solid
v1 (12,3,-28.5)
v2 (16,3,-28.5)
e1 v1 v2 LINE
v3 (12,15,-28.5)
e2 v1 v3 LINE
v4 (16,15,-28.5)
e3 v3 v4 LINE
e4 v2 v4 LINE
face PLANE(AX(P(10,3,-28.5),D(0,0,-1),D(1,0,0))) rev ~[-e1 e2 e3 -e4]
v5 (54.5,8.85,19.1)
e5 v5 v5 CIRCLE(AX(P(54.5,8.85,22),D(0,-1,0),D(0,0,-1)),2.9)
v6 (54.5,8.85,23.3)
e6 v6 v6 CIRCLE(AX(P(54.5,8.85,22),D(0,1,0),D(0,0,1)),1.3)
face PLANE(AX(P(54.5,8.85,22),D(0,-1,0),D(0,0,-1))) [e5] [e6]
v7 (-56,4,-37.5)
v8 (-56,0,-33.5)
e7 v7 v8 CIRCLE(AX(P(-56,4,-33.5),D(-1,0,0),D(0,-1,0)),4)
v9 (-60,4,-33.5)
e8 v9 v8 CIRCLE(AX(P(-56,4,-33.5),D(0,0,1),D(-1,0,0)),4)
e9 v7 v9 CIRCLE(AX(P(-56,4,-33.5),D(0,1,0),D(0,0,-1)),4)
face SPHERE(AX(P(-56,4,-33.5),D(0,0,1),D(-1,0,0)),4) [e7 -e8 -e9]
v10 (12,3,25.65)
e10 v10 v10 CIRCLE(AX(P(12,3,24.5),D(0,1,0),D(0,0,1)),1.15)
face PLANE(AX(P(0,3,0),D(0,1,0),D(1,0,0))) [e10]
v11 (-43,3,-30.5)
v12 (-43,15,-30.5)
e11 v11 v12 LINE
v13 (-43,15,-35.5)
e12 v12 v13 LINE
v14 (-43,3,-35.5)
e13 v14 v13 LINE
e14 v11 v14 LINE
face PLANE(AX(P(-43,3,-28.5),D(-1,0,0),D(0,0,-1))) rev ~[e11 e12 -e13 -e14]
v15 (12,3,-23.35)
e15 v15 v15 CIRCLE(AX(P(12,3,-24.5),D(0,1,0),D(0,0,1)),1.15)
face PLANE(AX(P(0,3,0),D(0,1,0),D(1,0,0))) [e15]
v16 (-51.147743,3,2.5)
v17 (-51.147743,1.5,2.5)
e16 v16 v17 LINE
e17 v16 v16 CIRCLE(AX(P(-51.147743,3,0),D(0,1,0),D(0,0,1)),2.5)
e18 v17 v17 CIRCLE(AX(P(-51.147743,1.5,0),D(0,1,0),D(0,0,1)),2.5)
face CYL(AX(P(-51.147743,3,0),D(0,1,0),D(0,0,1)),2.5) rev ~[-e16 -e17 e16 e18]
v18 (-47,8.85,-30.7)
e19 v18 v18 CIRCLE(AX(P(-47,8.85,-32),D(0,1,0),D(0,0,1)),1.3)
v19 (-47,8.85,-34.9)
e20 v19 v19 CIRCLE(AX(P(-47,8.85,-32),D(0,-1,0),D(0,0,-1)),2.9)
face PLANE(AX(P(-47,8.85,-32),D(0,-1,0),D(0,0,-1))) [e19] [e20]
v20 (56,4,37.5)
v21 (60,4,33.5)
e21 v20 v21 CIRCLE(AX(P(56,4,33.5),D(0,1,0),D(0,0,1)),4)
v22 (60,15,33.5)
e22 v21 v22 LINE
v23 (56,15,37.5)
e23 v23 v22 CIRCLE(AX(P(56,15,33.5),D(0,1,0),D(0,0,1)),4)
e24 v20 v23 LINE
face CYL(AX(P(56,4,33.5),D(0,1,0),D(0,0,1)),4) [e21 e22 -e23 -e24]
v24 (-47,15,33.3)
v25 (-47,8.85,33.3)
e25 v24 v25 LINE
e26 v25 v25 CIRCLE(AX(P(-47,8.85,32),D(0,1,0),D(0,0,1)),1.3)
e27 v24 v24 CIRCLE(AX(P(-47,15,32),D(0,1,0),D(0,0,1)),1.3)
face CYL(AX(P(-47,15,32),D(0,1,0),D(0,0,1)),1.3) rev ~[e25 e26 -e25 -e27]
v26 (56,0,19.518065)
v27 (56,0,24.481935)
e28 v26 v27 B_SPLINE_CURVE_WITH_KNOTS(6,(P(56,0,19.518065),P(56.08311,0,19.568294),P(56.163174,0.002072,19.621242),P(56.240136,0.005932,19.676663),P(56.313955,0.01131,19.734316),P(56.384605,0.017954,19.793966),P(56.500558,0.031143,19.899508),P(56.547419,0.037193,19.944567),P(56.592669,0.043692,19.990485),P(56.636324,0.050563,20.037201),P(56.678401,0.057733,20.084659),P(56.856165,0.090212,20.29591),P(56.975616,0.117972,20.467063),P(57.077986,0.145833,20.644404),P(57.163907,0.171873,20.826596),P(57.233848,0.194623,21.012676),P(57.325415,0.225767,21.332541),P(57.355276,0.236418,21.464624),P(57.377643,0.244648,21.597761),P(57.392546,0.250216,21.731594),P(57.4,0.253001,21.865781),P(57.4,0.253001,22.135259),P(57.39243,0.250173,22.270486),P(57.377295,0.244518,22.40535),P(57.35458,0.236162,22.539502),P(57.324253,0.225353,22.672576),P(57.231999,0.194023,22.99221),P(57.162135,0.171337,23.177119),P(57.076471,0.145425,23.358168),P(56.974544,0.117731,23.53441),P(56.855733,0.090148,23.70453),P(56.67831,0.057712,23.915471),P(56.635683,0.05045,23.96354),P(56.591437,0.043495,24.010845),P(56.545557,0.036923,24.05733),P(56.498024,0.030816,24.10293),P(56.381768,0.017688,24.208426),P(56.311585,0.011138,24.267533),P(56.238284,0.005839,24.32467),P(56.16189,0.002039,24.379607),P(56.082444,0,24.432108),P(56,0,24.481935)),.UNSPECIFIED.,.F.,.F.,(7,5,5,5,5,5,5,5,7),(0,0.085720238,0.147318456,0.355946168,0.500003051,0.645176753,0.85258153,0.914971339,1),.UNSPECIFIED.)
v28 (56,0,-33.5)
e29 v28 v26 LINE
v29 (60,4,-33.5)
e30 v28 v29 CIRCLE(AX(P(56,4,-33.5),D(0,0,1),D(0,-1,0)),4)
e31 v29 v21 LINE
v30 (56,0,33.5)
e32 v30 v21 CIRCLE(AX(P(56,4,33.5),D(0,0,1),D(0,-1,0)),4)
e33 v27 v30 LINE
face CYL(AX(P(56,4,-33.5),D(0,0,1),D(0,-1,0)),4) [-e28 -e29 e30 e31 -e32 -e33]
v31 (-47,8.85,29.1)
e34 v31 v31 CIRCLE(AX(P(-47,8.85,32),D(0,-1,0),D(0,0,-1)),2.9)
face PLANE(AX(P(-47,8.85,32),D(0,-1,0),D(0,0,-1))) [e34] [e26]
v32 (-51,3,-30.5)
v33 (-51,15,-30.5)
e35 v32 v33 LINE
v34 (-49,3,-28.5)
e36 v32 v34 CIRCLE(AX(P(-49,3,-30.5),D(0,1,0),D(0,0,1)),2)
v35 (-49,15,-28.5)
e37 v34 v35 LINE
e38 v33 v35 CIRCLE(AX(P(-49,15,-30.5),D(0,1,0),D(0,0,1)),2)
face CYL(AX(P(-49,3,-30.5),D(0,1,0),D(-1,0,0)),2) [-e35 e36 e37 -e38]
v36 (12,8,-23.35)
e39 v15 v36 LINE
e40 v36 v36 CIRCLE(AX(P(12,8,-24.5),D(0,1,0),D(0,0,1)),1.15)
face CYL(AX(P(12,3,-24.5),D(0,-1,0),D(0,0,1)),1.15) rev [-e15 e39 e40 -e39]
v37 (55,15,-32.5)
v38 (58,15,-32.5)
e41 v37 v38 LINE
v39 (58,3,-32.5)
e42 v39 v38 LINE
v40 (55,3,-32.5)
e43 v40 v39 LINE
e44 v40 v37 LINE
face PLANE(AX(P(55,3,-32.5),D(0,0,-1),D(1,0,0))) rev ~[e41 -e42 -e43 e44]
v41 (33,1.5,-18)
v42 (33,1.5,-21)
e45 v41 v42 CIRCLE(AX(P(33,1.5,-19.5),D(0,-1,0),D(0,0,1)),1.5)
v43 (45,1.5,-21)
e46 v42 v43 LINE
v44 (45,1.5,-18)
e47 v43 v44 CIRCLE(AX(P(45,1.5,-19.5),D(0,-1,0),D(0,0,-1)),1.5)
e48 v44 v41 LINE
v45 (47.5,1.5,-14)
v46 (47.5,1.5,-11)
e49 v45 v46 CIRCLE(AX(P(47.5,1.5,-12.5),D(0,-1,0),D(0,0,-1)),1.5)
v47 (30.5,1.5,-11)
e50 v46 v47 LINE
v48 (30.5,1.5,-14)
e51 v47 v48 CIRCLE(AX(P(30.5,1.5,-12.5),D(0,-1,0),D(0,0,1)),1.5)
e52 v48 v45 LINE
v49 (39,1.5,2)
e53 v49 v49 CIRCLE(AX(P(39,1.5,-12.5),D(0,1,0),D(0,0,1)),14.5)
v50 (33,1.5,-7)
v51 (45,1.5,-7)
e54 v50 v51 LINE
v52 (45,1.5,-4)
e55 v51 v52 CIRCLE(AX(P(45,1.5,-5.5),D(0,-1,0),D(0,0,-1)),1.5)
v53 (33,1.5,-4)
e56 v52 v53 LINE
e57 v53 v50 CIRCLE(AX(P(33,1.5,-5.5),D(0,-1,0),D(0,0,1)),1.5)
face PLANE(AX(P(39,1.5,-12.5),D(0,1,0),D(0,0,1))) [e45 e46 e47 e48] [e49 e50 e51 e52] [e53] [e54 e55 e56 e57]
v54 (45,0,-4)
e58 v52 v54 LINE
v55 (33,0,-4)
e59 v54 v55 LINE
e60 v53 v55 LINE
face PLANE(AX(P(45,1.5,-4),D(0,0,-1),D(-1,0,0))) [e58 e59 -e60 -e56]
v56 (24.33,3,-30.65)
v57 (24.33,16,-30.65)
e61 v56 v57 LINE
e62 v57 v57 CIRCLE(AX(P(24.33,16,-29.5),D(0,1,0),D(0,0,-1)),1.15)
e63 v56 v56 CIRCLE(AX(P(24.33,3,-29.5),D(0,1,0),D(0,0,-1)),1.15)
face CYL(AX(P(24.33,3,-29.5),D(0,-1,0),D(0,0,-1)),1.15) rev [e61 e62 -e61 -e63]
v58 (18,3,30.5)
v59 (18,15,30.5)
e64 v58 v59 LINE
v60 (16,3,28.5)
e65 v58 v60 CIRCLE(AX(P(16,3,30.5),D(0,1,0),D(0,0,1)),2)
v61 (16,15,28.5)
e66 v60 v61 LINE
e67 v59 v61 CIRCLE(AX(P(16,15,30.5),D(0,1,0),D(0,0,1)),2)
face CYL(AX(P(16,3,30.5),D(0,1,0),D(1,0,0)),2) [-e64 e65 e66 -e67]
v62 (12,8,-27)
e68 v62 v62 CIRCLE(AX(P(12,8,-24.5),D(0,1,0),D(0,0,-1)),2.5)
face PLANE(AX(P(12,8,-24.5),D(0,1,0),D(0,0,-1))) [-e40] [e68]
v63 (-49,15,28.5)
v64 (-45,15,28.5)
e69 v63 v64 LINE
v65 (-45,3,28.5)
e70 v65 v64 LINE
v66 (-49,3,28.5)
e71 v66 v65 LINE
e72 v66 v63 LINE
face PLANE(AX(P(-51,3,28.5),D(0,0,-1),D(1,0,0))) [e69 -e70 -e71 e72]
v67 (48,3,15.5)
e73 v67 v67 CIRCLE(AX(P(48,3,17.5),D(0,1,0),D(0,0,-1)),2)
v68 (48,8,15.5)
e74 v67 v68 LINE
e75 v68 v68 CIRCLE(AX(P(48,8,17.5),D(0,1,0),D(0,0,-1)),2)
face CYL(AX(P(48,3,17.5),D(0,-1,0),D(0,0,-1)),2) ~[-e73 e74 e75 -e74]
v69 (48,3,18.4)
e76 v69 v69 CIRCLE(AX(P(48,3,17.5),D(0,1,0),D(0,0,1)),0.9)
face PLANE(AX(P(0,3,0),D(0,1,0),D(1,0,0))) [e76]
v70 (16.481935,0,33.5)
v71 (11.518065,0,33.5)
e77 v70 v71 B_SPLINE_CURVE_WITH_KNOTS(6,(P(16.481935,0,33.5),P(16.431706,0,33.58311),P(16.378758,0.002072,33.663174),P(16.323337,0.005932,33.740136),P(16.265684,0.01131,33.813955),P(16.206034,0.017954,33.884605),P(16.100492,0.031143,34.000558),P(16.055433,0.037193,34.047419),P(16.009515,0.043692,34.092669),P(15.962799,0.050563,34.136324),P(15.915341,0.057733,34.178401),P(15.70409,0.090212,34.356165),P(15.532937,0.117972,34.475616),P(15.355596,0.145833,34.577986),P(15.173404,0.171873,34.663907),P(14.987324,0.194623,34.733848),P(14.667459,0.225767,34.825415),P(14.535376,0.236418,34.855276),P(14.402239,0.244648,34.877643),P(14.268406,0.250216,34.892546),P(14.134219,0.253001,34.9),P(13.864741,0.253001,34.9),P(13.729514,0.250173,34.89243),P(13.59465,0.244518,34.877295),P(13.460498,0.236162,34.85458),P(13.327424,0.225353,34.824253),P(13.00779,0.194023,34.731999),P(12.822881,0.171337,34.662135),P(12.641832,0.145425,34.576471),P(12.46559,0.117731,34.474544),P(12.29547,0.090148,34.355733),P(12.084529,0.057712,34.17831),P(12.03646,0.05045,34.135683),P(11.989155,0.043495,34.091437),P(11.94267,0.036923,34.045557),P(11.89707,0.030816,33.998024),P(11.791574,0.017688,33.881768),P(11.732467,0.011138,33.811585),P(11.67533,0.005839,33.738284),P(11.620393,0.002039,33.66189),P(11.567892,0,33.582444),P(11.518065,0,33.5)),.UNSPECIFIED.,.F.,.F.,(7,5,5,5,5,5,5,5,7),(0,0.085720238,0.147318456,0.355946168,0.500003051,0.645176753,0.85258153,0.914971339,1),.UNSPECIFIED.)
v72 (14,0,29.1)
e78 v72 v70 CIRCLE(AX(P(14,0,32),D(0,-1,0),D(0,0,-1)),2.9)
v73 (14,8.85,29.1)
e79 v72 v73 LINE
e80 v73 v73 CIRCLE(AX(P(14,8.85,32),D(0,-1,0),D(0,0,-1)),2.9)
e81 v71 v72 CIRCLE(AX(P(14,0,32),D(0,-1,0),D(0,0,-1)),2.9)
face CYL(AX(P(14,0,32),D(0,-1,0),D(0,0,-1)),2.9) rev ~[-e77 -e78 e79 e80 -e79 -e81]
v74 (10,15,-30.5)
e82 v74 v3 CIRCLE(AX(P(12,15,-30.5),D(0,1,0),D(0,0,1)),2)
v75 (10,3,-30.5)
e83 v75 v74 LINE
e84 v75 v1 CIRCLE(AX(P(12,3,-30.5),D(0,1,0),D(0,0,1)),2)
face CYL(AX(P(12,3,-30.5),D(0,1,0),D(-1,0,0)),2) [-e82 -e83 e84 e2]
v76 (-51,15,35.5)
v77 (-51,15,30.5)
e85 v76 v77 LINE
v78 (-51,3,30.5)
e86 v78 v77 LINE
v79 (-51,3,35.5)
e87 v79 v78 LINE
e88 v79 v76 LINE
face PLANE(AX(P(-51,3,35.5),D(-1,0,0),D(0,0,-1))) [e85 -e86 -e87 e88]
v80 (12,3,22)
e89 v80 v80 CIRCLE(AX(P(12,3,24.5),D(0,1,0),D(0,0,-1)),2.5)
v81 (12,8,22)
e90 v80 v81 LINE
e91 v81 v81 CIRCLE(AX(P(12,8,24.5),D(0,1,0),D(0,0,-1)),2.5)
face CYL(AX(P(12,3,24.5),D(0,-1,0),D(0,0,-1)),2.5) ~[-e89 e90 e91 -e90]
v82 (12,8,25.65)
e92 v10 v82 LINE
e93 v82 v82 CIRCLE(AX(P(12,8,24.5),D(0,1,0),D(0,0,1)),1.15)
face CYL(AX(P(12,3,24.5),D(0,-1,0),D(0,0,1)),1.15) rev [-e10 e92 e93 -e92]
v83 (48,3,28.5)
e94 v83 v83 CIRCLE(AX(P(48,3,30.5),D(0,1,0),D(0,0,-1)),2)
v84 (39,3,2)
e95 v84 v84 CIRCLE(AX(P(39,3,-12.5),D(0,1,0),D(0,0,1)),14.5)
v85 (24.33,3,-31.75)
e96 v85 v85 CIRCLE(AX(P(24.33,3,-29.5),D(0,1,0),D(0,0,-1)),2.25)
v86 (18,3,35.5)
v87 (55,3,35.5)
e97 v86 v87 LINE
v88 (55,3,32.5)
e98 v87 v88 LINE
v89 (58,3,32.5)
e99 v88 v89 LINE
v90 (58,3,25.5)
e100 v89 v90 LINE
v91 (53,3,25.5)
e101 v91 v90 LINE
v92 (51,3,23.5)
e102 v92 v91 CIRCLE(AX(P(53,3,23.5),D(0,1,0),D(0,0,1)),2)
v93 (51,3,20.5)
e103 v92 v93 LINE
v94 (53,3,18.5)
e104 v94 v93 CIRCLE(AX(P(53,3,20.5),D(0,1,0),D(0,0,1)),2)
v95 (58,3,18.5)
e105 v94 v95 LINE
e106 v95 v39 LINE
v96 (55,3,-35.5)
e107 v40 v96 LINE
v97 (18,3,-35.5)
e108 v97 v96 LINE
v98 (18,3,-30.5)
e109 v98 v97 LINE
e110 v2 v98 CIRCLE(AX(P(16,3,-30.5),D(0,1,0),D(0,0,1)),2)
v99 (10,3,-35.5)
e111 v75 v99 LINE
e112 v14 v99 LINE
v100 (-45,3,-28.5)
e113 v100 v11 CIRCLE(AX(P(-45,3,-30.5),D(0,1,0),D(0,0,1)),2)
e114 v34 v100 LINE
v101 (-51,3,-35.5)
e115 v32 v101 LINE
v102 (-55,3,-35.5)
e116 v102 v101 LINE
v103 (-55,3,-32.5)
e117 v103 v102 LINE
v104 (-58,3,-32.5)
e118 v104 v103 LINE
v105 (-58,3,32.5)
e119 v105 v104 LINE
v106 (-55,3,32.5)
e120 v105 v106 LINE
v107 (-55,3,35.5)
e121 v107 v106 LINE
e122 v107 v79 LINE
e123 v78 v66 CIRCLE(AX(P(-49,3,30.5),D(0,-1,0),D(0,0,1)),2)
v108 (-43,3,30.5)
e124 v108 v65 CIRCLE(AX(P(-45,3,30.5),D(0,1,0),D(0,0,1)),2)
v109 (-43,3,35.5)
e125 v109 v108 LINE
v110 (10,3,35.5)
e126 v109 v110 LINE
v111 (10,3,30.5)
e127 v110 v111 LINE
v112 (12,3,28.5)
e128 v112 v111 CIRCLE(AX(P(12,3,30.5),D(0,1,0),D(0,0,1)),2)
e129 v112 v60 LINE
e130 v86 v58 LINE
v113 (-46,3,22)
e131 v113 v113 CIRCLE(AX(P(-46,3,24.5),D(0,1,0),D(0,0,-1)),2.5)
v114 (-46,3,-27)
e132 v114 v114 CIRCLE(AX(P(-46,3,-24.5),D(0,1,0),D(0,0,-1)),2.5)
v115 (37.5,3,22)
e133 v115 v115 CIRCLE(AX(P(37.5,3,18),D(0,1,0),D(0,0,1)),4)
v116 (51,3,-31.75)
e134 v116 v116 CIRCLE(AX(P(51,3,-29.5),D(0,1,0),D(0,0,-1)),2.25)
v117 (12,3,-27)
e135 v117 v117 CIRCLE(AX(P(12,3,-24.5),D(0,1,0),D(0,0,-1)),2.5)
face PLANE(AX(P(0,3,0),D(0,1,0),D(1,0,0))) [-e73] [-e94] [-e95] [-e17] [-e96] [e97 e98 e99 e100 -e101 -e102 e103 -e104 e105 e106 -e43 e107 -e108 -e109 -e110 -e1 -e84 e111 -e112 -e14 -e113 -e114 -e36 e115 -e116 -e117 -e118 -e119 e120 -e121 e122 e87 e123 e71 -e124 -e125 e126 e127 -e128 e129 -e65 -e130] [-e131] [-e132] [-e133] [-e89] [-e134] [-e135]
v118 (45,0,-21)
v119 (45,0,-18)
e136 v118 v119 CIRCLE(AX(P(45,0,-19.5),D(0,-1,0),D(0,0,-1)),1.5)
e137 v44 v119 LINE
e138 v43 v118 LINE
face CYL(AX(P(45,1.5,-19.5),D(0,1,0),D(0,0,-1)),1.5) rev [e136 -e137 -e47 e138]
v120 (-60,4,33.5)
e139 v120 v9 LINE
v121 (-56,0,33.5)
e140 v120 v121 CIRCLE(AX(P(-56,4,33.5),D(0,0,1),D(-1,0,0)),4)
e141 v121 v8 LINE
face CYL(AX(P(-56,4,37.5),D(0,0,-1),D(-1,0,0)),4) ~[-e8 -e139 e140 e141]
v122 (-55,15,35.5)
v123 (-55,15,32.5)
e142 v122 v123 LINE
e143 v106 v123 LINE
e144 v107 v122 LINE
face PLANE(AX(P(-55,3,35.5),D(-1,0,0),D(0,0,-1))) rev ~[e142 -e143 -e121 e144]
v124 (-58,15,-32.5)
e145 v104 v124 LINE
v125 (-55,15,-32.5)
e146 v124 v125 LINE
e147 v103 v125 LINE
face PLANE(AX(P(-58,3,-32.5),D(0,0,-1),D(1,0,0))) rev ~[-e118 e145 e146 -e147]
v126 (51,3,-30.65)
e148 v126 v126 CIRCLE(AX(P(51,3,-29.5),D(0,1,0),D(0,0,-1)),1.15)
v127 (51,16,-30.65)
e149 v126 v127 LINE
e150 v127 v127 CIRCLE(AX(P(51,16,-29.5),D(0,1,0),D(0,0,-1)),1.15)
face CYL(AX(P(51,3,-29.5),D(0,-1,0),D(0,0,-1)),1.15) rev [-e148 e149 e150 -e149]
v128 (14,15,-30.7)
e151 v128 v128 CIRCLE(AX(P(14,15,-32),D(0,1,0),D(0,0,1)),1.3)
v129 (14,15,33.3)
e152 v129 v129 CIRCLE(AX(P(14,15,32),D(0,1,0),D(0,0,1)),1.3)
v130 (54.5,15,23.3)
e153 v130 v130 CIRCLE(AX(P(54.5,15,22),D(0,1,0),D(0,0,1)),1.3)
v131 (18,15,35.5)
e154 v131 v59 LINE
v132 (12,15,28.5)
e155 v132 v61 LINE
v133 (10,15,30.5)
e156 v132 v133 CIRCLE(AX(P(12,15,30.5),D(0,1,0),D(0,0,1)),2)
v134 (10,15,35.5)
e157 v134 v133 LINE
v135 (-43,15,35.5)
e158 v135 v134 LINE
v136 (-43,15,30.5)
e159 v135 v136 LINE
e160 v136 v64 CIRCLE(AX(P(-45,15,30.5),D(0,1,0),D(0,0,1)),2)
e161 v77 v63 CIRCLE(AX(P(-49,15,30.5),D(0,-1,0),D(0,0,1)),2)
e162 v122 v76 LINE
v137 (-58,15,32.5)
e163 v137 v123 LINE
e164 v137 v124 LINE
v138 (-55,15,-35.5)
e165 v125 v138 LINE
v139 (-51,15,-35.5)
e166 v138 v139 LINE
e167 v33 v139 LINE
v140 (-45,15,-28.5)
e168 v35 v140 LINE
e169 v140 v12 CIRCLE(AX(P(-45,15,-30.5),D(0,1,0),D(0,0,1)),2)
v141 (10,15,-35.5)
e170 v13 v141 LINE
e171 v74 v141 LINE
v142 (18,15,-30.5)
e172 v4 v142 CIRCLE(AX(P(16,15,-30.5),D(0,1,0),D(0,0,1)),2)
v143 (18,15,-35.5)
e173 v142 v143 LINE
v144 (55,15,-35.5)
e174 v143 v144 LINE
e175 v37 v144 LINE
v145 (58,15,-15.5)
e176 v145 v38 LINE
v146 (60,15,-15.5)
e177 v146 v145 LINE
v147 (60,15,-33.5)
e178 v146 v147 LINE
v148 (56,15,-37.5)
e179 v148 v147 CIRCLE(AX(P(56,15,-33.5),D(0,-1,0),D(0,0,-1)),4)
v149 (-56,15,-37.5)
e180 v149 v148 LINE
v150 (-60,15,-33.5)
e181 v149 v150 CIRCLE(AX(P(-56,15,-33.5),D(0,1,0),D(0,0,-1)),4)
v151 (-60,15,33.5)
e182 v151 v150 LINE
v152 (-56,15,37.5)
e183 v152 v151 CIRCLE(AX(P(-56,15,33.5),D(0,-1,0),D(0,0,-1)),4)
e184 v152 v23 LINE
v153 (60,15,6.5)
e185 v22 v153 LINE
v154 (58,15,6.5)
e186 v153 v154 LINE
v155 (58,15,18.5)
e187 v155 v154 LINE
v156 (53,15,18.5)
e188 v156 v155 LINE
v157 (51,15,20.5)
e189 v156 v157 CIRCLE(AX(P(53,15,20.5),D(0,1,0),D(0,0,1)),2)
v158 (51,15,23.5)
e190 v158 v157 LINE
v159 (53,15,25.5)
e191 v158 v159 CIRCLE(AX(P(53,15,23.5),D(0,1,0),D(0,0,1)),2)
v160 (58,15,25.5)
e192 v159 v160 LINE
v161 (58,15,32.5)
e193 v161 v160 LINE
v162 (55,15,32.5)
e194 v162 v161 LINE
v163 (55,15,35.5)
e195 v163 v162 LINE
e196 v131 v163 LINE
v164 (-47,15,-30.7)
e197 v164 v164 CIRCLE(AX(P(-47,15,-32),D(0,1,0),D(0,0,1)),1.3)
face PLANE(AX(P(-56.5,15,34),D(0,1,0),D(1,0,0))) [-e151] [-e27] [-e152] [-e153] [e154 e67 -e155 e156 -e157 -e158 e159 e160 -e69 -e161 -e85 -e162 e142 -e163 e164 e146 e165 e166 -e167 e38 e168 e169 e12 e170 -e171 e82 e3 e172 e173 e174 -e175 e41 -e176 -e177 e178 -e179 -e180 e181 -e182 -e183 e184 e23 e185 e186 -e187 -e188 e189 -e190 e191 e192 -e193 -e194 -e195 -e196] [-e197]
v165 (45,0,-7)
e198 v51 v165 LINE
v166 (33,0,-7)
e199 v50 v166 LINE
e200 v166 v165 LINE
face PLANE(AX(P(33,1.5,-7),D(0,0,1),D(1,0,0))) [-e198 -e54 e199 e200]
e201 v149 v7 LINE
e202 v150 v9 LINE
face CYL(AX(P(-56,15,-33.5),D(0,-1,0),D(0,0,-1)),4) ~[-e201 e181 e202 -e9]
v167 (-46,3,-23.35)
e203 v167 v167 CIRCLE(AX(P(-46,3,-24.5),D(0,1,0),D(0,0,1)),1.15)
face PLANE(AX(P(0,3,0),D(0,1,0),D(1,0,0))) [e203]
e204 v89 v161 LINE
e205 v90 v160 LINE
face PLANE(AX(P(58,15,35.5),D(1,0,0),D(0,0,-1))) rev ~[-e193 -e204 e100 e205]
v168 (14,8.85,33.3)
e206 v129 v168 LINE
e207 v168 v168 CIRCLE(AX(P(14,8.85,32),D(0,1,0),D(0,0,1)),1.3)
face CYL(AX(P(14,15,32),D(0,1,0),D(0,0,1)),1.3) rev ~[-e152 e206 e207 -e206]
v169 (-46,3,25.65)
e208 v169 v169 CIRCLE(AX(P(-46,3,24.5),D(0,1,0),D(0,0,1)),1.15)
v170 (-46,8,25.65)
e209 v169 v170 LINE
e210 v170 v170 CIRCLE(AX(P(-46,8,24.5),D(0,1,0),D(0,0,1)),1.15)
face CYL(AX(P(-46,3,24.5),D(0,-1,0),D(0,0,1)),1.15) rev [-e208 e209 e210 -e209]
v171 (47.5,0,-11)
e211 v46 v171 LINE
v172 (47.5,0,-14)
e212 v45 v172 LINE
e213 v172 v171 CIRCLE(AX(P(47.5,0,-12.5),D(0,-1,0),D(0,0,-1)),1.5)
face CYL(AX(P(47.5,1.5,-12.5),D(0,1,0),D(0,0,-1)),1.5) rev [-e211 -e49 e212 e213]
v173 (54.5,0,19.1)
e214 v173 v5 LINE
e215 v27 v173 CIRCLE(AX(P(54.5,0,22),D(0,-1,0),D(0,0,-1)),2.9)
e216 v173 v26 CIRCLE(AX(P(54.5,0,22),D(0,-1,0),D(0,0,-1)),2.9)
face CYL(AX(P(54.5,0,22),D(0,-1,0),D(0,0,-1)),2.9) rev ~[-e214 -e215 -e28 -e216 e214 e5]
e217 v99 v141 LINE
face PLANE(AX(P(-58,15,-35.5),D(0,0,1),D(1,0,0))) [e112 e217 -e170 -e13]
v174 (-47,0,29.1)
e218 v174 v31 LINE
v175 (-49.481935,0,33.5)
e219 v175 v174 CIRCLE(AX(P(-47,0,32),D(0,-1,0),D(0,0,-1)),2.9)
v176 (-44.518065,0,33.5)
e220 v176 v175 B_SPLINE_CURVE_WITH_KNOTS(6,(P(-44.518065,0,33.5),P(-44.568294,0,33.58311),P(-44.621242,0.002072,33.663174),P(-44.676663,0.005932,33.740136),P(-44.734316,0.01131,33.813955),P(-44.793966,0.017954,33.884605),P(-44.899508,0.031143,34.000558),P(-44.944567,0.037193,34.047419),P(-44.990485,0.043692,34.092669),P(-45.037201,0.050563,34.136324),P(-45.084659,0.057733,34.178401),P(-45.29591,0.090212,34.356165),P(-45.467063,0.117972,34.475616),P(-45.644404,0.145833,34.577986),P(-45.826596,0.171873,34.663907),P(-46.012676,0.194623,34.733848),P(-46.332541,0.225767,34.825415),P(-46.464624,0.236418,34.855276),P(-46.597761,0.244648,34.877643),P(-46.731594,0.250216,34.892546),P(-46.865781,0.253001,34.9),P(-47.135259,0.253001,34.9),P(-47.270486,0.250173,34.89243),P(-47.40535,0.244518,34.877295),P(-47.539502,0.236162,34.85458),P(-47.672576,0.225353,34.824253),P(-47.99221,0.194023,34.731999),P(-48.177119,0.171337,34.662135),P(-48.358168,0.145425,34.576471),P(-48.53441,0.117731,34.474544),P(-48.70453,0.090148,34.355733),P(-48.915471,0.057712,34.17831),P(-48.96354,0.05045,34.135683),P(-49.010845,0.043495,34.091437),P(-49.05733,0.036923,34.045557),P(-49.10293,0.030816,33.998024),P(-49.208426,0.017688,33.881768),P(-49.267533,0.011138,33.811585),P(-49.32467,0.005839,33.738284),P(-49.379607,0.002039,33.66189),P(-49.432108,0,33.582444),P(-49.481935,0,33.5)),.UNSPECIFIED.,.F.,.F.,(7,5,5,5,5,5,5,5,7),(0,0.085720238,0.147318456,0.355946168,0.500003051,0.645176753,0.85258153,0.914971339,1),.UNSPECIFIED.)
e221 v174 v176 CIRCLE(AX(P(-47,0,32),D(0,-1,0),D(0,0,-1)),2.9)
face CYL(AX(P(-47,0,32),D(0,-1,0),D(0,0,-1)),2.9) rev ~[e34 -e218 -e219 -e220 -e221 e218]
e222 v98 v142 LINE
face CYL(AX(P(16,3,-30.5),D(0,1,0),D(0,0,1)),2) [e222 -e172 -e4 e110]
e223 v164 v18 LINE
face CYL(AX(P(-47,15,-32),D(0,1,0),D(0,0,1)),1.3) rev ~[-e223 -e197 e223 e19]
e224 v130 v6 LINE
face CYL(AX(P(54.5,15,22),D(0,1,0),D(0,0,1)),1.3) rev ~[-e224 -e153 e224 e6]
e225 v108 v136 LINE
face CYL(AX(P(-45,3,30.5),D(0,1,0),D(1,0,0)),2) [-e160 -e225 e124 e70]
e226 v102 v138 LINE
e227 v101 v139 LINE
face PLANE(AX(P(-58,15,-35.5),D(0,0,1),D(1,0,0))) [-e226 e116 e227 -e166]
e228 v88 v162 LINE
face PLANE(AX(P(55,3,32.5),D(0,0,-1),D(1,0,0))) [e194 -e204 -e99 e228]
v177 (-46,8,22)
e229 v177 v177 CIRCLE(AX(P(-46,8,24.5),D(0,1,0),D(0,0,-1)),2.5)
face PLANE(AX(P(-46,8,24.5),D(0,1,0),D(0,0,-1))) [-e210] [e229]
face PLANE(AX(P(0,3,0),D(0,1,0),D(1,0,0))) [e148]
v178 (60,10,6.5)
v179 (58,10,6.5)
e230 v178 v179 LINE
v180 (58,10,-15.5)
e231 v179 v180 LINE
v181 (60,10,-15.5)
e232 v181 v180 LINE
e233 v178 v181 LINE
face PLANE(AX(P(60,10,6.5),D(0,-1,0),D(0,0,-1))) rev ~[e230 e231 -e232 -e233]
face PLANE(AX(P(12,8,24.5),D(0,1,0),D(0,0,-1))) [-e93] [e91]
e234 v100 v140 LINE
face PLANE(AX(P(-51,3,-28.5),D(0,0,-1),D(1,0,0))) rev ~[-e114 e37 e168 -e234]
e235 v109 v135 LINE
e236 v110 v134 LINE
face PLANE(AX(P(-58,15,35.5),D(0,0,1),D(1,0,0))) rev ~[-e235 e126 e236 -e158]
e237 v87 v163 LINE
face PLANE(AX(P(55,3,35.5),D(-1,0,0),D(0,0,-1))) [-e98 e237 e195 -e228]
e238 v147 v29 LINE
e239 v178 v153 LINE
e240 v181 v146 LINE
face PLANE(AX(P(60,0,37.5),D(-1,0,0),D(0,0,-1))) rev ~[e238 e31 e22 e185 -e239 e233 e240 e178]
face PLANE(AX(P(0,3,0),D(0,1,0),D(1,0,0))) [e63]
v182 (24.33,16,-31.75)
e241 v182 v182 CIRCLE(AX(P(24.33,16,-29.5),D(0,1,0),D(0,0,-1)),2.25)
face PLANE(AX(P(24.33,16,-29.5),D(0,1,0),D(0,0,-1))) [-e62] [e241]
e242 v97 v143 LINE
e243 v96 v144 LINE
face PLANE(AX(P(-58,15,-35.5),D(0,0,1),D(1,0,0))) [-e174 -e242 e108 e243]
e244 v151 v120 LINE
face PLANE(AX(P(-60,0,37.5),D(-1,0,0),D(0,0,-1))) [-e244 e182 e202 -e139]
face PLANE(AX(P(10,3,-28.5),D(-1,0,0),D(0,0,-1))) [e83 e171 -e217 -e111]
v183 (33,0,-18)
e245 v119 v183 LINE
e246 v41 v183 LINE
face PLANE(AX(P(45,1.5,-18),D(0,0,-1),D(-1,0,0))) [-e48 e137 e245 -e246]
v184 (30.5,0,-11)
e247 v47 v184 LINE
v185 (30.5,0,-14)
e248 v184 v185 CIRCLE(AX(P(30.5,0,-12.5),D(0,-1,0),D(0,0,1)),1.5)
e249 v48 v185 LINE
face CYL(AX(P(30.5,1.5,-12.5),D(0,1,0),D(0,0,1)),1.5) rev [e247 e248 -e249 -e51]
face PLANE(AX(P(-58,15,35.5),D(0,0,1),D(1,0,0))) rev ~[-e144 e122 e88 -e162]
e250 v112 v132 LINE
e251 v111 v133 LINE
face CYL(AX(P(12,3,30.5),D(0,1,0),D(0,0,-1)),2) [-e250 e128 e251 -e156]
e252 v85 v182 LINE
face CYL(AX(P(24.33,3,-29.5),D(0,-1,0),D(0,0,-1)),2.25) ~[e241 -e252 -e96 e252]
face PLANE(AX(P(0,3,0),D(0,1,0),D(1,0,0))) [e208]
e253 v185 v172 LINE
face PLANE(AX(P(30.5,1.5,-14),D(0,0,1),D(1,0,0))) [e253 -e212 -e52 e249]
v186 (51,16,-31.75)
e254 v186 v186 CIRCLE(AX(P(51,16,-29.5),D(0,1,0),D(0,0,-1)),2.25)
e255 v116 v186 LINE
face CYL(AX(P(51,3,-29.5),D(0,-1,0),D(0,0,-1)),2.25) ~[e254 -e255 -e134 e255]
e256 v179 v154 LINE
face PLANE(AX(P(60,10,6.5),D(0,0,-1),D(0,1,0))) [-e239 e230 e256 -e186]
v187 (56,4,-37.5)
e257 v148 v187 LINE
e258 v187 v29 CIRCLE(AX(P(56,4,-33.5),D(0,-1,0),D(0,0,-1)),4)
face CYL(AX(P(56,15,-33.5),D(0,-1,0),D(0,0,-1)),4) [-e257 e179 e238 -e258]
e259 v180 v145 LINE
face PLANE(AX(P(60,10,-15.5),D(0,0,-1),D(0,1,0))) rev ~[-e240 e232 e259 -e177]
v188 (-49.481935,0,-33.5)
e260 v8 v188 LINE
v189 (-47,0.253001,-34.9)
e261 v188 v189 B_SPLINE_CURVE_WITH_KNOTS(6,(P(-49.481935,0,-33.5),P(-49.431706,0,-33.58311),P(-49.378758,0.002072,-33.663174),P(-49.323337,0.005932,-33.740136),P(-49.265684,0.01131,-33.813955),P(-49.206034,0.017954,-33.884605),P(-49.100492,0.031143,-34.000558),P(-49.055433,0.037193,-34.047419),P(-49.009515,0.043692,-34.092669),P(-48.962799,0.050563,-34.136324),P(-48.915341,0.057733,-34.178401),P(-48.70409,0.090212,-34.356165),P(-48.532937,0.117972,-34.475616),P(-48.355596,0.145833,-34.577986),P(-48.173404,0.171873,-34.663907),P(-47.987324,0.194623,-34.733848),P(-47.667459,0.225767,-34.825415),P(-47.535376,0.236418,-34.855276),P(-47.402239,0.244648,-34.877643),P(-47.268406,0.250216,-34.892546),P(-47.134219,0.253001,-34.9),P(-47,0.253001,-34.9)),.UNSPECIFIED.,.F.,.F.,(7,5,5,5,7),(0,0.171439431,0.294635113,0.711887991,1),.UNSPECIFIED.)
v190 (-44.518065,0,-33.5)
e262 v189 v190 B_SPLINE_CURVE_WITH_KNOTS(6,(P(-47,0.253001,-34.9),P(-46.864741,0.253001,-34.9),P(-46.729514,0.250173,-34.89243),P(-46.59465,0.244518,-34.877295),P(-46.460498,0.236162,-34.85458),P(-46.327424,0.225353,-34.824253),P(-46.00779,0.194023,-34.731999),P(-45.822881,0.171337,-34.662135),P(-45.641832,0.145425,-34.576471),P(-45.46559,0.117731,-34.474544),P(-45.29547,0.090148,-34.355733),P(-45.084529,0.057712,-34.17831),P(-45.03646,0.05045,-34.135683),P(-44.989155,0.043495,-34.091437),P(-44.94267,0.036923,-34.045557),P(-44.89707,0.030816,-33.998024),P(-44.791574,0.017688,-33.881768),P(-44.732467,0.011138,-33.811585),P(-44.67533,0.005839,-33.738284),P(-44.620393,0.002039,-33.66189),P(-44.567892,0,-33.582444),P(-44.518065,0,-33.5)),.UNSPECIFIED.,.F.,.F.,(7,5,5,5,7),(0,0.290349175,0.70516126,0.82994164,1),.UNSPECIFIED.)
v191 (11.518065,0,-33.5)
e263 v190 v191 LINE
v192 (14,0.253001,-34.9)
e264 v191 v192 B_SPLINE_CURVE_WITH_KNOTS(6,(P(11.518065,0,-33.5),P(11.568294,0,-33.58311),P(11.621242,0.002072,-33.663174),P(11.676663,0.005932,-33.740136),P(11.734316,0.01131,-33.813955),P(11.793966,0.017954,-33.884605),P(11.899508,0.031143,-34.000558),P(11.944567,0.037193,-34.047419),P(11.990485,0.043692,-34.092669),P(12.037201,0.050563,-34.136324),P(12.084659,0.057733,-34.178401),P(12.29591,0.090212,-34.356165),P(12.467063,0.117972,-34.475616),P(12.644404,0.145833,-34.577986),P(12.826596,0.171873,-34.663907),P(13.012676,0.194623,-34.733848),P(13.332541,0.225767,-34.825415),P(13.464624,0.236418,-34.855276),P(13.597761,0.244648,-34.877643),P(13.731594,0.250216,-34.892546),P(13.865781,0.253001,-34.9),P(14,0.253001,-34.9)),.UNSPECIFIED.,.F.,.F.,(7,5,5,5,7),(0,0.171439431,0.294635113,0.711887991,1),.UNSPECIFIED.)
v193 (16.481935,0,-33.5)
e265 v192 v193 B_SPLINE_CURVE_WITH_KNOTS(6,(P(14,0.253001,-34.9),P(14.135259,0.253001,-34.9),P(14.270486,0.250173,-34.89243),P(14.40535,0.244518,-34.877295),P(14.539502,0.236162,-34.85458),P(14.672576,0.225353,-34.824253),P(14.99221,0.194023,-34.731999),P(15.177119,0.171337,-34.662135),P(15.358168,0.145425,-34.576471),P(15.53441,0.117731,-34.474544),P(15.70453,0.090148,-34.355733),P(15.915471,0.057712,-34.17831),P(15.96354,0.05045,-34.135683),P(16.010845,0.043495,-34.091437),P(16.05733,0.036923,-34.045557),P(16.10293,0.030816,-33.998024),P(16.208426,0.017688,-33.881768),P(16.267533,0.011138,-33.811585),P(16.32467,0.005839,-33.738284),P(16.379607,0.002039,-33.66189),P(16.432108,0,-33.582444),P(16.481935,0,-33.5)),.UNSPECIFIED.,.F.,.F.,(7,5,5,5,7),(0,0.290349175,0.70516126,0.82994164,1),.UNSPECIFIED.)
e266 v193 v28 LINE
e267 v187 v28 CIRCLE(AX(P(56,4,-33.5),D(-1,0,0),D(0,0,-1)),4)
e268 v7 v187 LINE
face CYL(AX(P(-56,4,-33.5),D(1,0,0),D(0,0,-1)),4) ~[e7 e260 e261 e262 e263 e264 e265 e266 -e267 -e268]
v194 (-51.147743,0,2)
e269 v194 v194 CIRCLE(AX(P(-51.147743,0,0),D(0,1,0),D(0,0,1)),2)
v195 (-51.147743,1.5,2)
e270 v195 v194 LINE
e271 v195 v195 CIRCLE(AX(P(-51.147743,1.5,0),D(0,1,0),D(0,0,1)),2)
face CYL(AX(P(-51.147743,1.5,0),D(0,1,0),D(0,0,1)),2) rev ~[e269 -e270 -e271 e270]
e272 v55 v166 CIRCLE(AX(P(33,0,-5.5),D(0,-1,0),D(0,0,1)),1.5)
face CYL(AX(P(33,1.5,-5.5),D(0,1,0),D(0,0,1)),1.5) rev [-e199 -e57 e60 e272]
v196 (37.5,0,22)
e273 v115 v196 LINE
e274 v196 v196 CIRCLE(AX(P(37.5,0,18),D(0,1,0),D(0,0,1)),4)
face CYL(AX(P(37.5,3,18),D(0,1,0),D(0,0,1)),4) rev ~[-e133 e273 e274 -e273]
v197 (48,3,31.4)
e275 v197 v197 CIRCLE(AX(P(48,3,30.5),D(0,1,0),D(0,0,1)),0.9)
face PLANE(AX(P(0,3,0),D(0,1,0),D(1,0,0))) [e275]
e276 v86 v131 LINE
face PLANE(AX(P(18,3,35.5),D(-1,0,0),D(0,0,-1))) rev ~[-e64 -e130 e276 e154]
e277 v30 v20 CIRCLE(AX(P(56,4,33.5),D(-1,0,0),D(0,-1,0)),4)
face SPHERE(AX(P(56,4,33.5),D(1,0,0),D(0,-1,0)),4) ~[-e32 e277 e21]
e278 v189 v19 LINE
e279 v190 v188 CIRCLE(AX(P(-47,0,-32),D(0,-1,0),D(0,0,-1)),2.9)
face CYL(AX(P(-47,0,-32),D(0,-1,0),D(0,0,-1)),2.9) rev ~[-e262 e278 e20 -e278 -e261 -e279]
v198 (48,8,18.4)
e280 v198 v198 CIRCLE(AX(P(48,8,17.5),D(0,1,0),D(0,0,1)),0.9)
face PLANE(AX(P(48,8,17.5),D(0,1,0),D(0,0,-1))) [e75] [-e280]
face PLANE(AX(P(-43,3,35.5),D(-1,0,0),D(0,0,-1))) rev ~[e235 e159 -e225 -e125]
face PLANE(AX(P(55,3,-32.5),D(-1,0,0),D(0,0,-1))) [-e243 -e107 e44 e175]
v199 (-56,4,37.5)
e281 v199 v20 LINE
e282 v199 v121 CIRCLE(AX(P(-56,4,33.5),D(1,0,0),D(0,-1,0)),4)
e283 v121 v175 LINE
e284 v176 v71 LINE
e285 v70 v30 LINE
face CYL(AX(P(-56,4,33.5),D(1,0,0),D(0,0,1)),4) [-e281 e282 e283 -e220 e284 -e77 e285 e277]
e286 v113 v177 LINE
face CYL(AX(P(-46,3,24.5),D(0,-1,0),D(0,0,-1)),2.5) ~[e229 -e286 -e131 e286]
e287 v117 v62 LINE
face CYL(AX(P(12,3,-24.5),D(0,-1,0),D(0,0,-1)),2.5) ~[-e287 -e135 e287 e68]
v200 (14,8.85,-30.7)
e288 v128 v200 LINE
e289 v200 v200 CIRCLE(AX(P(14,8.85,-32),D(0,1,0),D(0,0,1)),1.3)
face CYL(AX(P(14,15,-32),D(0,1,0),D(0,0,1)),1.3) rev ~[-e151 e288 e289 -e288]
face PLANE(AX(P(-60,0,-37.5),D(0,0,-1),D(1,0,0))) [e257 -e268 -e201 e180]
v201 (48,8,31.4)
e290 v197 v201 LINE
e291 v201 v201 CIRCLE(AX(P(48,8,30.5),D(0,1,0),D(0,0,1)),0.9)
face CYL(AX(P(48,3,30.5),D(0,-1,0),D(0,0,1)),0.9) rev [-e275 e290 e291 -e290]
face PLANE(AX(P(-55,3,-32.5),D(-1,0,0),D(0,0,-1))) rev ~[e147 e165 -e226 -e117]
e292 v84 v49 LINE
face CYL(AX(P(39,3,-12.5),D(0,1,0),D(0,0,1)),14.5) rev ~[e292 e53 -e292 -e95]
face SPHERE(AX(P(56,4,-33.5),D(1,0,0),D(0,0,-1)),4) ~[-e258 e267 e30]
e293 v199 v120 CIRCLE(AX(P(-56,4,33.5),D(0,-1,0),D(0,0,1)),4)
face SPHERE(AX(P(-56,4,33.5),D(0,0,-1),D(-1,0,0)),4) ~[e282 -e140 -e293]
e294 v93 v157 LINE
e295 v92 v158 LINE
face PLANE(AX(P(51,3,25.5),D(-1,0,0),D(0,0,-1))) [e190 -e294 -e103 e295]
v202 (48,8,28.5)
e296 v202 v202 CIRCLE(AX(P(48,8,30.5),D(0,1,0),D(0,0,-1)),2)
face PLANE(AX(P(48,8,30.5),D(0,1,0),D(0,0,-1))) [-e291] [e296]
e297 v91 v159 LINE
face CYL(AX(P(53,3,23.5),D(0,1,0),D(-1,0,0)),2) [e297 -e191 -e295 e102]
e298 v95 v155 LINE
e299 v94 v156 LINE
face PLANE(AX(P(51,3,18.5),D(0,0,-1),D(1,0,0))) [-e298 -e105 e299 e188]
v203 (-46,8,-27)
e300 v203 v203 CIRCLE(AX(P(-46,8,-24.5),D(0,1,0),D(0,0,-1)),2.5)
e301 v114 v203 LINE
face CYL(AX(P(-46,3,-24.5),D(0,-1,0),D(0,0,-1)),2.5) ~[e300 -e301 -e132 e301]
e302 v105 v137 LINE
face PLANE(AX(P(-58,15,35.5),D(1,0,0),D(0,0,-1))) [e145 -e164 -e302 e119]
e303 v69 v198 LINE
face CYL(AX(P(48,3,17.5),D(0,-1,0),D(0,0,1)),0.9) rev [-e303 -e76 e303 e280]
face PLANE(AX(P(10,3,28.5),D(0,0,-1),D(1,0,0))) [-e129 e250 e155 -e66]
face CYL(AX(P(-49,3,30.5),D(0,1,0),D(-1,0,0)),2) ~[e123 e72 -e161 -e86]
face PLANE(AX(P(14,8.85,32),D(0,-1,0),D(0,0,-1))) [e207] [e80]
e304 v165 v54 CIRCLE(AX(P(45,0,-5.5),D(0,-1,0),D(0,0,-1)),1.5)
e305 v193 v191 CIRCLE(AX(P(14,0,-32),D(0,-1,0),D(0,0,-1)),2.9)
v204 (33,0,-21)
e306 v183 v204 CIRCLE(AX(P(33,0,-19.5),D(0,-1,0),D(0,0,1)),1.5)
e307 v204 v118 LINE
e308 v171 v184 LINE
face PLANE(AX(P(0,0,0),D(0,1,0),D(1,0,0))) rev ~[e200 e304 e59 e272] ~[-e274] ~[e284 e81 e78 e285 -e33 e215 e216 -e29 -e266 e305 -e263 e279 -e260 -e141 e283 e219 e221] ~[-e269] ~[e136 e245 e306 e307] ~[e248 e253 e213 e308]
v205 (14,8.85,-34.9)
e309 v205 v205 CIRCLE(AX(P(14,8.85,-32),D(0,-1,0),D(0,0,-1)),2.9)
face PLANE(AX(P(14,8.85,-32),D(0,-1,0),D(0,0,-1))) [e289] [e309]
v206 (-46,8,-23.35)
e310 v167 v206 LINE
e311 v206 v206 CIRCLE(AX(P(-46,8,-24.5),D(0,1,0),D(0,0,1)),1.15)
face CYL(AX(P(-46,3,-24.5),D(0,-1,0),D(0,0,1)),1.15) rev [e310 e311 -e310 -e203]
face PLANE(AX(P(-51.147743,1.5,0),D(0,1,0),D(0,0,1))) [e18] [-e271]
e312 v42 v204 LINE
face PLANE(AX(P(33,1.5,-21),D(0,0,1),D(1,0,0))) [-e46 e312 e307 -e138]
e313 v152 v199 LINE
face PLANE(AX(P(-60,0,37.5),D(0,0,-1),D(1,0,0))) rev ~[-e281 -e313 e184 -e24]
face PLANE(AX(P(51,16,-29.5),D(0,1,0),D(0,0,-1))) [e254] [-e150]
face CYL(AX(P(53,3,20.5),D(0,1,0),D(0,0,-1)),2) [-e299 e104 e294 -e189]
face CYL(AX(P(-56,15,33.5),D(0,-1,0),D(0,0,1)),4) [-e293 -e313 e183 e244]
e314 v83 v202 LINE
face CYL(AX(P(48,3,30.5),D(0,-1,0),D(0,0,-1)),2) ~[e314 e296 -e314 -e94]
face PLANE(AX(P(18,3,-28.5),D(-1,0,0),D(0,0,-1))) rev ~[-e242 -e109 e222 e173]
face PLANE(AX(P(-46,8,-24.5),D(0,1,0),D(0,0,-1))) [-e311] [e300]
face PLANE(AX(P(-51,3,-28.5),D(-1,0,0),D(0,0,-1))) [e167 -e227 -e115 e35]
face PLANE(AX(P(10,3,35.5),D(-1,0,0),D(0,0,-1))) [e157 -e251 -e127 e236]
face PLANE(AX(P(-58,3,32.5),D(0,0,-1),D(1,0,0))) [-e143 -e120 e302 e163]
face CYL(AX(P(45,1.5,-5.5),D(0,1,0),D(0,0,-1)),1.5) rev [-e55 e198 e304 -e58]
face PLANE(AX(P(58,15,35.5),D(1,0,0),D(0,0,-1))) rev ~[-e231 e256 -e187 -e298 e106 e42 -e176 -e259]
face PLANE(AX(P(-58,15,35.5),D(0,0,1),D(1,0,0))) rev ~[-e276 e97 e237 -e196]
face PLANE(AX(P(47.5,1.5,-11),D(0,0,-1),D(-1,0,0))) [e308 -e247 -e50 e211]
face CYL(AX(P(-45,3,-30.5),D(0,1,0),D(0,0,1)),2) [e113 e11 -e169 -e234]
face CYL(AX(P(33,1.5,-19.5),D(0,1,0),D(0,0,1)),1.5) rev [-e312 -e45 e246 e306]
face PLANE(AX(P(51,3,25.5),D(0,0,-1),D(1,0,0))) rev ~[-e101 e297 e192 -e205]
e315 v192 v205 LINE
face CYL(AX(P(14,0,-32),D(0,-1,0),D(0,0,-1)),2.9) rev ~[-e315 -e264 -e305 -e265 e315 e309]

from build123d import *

# Parameters (mm, degrees)
SKETCH1_W                   = 120
SKETCH1_H                   = 75
MAIN_STRUCTURE_DEPTH        = 15
SKETCH2_W                   = 116
SKETCH2_H                   = 71
INSIDE_CUT_DEPTH            = 12
SKETCH3_R                   = 2.5
SKETCH3_R_2                 = 1.15
PI_STANDOFFS_DEPTH          = 5
SKETCH4_R                   = 2
SKETCH4_R_2                 = 0.9
CAMERA_STANDOFFS_DEPTH      = 5
BODY_FILLET_1_R             = 4
BODY_FILLET_2_R             = 4
BODY_FILLET_3_R             = 4
BODY_FILLET_4_R             = 4
SKETCH5_R                   = 2.25
SKETCH5_R_2                 = 1.15
FONA_STANDOFFS_DEPTH        = 13
SKETCH6_W                   = 3
SKETCH6_H                   = 3
CORNER_SUPPORT_DEPTH        = 12
SKETCH8_W                   = 22
SKETCH8_H                   = 5
CHARGER_CUTOUT_DEPTH        = 10
SKETCH9_W                   = 8
SKETCH9_H                   = 7
SKETCH9_W_2                 = 7
MOUNTING_STRUCTURE_DEPTH    = 12
MOUNTING_STRUCTURE_FILLET_R = 2
SKETCH10_R                  = 1.3
CASE_MOUNTING_HOLES_DEPTH   = 15
SKETCH13_R                  = 2.9
CASE_SCREW_HEAD_HOLES_DEPTH = 8.85
SKETCH14_R                  = 14.5
SPEAKER_HOLDER_DEPTH        = 1.5
SOUND_CUTOUT_DEPTH          = 1.5
SKETCH25_R                  = 2.5
MICROPHONE_HOLDER_DEPTH     = 1.5
SKETCH26_R                  = 2
MICROPHONE_CUTOUT_DEPTH     = 1.5
SKETCH27_R                  = 4
CAMERA_CUTOUT_DEPTH         = 10


with BuildPart() as part:
    # Sketch1 → Main Structure (new body)
    with BuildSketch(Plane(origin=(0, 0, 0), x_dir=(1, 0, 0), z_dir=(0, 1, 0))):
        Rectangle(SKETCH1_W, SKETCH1_H)
    extrude(amount=MAIN_STRUCTURE_DEPTH)

    # Sketch2 → Inside Cut (cut)
    with BuildSketch(Plane(origin=(0, 15, 0), x_dir=(1, 0, 0), z_dir=(0, 1, 0))):
        Rectangle(SKETCH2_W, SKETCH2_H)
    extrude(amount=-INSIDE_CUT_DEPTH, mode=Mode.SUBTRACT)

    # Sketch3 → Pi Standoffs (add)
    # profile 1 of 4: a face of its own
    with BuildSketch(Plane(origin=(0, 3, 0), x_dir=(1, 0, 0), z_dir=(0, 1, 0))):
        with Locations(Location((-46, -24.5, 0), (0, 0, 90))):
            Circle(SKETCH3_R)
        with Locations(Location((-46, -24.5, 0), (0, 0, 270))):
            Circle(SKETCH3_R_2, mode=Mode.SUBTRACT)
    # profile 2 of 4: a face of its own
    with BuildSketch(Plane(origin=(0, 3, 0), x_dir=(1, 0, 0), z_dir=(0, 1, 0))):
        with Locations(Location((-46, 24.5, 0), (0, 0, 90))):
            Circle(SKETCH3_R)
        with Locations(Location((-46, 24.5, 0), (0, 0, 270))):
            Circle(SKETCH3_R_2, mode=Mode.SUBTRACT)
    # profile 3 of 4: a face of its own
    with BuildSketch(Plane(origin=(0, 3, 0), x_dir=(1, 0, 0), z_dir=(0, 1, 0))):
        with Locations(Location((12, 24.5, 0), (0, 0, 90))):
            Circle(SKETCH3_R)
        with Locations(Location((12, 24.5, 0), (0, 0, 270))):
            Circle(SKETCH3_R_2, mode=Mode.SUBTRACT)
    # profile 4 of 4: a face of its own
    with BuildSketch(Plane(origin=(0, 3, 0), x_dir=(1, 0, 0), z_dir=(0, 1, 0))):
        with Locations(Location((12, -24.5, 0), (0, 0, 90))):
            Circle(SKETCH3_R)
        with Locations(Location((12, -24.5, 0), (0, 0, 270))):
            Circle(SKETCH3_R_2, mode=Mode.SUBTRACT)
    extrude(amount=PI_STANDOFFS_DEPTH)

    # Sketch4 → Camera Standoffs (add)
    # profile 1 of 2: a face of its own
    with BuildSketch(Plane(origin=(0, 3, 0), x_dir=(1, 0, 0), z_dir=(0, 1, 0))):
        with Locations(Location((48, -30.5, 0), (0, 0, 90))):
            Circle(SKETCH4_R)
        with Locations(Location((48, -30.5, 0), (0, 0, 270))):
            Circle(SKETCH4_R_2, mode=Mode.SUBTRACT)
    # profile 2 of 2: a face of its own
    with BuildSketch(Plane(origin=(0, 3, 0), x_dir=(1, 0, 0), z_dir=(0, 1, 0))):
        with Locations(Location((48, -17.5, 0), (0, 0, 90))):
            Circle(SKETCH4_R)
        with Locations(Location((48, -17.5, 0), (0, 0, 270))):
            Circle(SKETCH4_R_2, mode=Mode.SUBTRACT)
    extrude(amount=CAMERA_STANDOFFS_DEPTH)

    # Body Fillet 1
    body_fillet_1_edges = [part.edges().sort_by_distance(p)[0] for p in [
        (-60, 0, 0),
    ]]
    fillet(body_fillet_1_edges, radius=BODY_FILLET_1_R)

    # Body Fillet 2
    body_fillet_2_edges = [part.edges().sort_by_distance(p)[0] for p in [
        (2, 0, -37.5),
        (-58.828427125, 1.171572875, -37.5),
        (-60, 9.5, -37.5),
    ]]
    fillet(body_fillet_2_edges, radius=BODY_FILLET_2_R)

    # Body Fillet 3
    body_fillet_3_edges = [part.edges().sort_by_distance(p)[0] for p in [
        (2, 0, 37.5),
        (-58.828427125, 1.171572875, 37.5),
        (-60, 9.5, 37.5),
    ]]
    fillet(body_fillet_3_edges, radius=BODY_FILLET_3_R)

    # Body Fillet 4
    body_fillet_4_edges = [part.edges().sort_by_distance(p)[0] for p in [
        (60, 9.5, 37.5),
        (60, 9.5, -37.5),
        (60, 1.171572875, -36.328427125),
        (60, 0, 0),
        (60, 1.171572875, 36.328427125),
    ]]
    fillet(body_fillet_4_edges, radius=BODY_FILLET_4_R)

    # Sketch5 → Fona Standoffs (add)
    # profile 1 of 2: a face of its own
    with BuildSketch(Plane(origin=(0, 3, 0), x_dir=(1, 0, 0), z_dir=(0, 1, 0))):
        with Locations(Location((24.33, 29.5, 0), (0, 0, 90))):
            Circle(SKETCH5_R)
        with Locations(Location((24.33, 29.5, 0), (0, 0, 90))):
            Circle(SKETCH5_R_2, mode=Mode.SUBTRACT)
    # profile 2 of 2: a face of its own
    with BuildSketch(Plane(origin=(0, 3, 0), x_dir=(1, 0, 0), z_dir=(0, 1, 0))):
        with Locations(Location((51, 29.5, 0), (0, 0, 90))):
            Circle(SKETCH5_R)
        with Locations(Location((51, 29.5, 0), (0, 0, 90))):
            Circle(SKETCH5_R_2, mode=Mode.SUBTRACT)
    extrude(amount=FONA_STANDOFFS_DEPTH)

    # Sketch6 → Corner Support (add)
    with BuildSketch(Plane(origin=(0, 3, 0), x_dir=(1, 0, 0), z_dir=(0, 1, 0))):
        with Locations((-56.5, -34)):
            Rectangle(SKETCH6_W, SKETCH6_H)
        with Locations((-56.5, 34)):
            Rectangle(SKETCH6_W, SKETCH6_H)
        with Locations((56.5, -34)):
            Rectangle(SKETCH6_W, SKETCH6_H)
        with Locations((56.5, 34)):
            Rectangle(SKETCH6_W, SKETCH6_H)
    extrude(amount=CORNER_SUPPORT_DEPTH)

    # Sketch8 → Charger Cutout (cut)
    with BuildSketch(Plane(origin=(60, 0, 0), x_dir=(0, 0, -1), z_dir=(1, 0, 0))):
        with Locations((4.5, 12.5)):
            Rectangle(SKETCH8_W, SKETCH8_H)
    extrude(amount=-CHARGER_CUTOUT_DEPTH, mode=Mode.SUBTRACT)

    # Sketch9 → Mounting Structure (add)
    with BuildSketch(Plane(origin=(0, 3, 0), x_dir=(1, 0, 0), z_dir=(0, 1, 0))):
        with Locations((-47, -32)):
            Rectangle(SKETCH9_W, SKETCH9_H)
        with Locations((54.5, -22)):
            Rectangle(SKETCH9_W_2, SKETCH9_H)
        with Locations((-47, 32)):
            Rectangle(SKETCH9_W, SKETCH9_H)
        with Locations((14, 32)):
            Rectangle(SKETCH9_W, SKETCH9_H)
        with Locations((14, -32)):
            Rectangle(SKETCH9_W, SKETCH9_H)
    extrude(amount=MOUNTING_STRUCTURE_DEPTH)

    # Mounting Structure Fillet
    mounting_structure_fillet_edges = [part.edges().sort_by_distance(p)[0] for p in [
        (-43, 9, 28.5),
        (-51, 9, 28.5),
        (51, 9, 18.5),
        (51, 9, 25.5),
        (-43, 9, -28.5),
        (-51, 9, -28.5),
        (18, 9, -28.5),
        (10, 9, -28.5),
        (18, 9, 28.5),
        (10, 9, 28.5),
    ]]
    fillet(mounting_structure_fillet_edges, radius=MOUNTING_STRUCTURE_FILLET_R)

    # Sketch10 → Case Mounting Holes (cut)
    with BuildSketch(Plane(origin=(0, 15, 0), x_dir=(1, 0, 0), z_dir=(0, 1, 0))):
        with Locations(Location((-47, 32, 0), (0, 0, 270))):
            Circle(SKETCH10_R)
        with Locations(Location((-47, -32, 0), (0, 0, 270))):
            Circle(SKETCH10_R)
        with Locations(Location((14, -32, 0), (0, 0, 270))):
            Circle(SKETCH10_R)
        with Locations(Location((14, 32, 0), (0, 0, 270))):
            Circle(SKETCH10_R)
        with Locations(Location((54.5, -22, 0), (0, 0, 270))):
            Circle(SKETCH10_R)
    extrude(amount=-CASE_MOUNTING_HOLES_DEPTH, mode=Mode.SUBTRACT)

    # Sketch13 → Case Screw Head Holes (cut)
    with BuildSketch(Plane.XZ):
        with Locations(Location((-47, 32, 0), (0, 0, 270))):
            Circle(SKETCH13_R)
        with Locations(Location((14, 32, 0), (0, 0, 270))):
            Circle(SKETCH13_R)
        with Locations(Location((14, -32, 0), (0, 0, 270))):
            Circle(SKETCH13_R)
        with Locations(Location((-47, -32, 0), (0, 0, 270))):
            Circle(SKETCH13_R)
        with Locations(Location((54.5, 22, 0), (0, 0, 270))):
            Circle(SKETCH13_R)
    extrude(amount=-CASE_SCREW_HEAD_HOLES_DEPTH, mode=Mode.SUBTRACT)

    # Sketch14 → Speaker Holder (cut)
    with BuildSketch(Plane(origin=(0, 3, 0), x_dir=(1, 0, 0), z_dir=(0, 1, 0))):
        with Locations(Location((39, 12.5, 0), (0, 0, 270))):
            Circle(SKETCH14_R)
    extrude(amount=-SPEAKER_HOLDER_DEPTH, mode=Mode.SUBTRACT)

    # Sketch23 → Sound Cutout (cut)
    with BuildSketch(Plane(origin=(0, 1.5, 0), x_dir=(1, 0, 0), z_dir=(0, 1, 0))):
        with BuildLine():
            Line((33, 21), (45, 21))
            ThreePointArc((45, 21), (46.5, 19.5), (45, 18))
            Line((45, 18), (33, 18))
            ThreePointArc((33, 18), (31.5, 19.5), (33, 21))
        make_face()
        with BuildLine():
            Line((30.5, 14), (47.5, 14))
            ThreePointArc((47.5, 14), (49, 12.5), (47.5, 11))
            Line((47.5, 11), (30.5, 11))
            ThreePointArc((30.5, 11), (29, 12.5), (30.5, 14))
        make_face()
        with BuildLine():
            Line((33, 7), (45, 7))
            ThreePointArc((45, 7), (46.5, 5.5), (45, 4))
            Line((45, 4), (33, 4))
            ThreePointArc((33, 4), (31.5, 5.5), (33, 7))
        make_face()
    extrude(amount=-SOUND_CUTOUT_DEPTH, mode=Mode.SUBTRACT)

    # Sketch25 → Microphone holder (cut)
    with BuildSketch(Plane(origin=(0, 3, 0), x_dir=(1, 0, 0), z_dir=(0, 1, 0))):
        with Locations(Location((-51.147743093, 0, 0), (0, 0, 270))):
            Circle(SKETCH25_R)
    extrude(amount=-MICROPHONE_HOLDER_DEPTH, mode=Mode.SUBTRACT)

    # Sketch26 → Microphone Cutout (cut)
    with BuildSketch(Plane(origin=(0, 1.5, 0), x_dir=(1, 0, 0), z_dir=(0, 1, 0))):
        with Locations(Location((-51.147743093, 0, 0), (0, 0, 270))):
            Circle(SKETCH26_R)
    extrude(amount=-MICROPHONE_CUTOUT_DEPTH, mode=Mode.SUBTRACT)

    # Sketch27 → Camera Cutout (cut)
    with BuildSketch(Plane(origin=(0, 3, 0), x_dir=(1, 0, 0), z_dir=(0, 1, 0))):
        with Locations(Location((37.5, -18, 0), (0, 0, 270))):
            Circle(SKETCH27_R)
    extrude(amount=-CAMERA_CUTOUT_DEPTH, mode=Mode.SUBTRACT)


solid = part.part
